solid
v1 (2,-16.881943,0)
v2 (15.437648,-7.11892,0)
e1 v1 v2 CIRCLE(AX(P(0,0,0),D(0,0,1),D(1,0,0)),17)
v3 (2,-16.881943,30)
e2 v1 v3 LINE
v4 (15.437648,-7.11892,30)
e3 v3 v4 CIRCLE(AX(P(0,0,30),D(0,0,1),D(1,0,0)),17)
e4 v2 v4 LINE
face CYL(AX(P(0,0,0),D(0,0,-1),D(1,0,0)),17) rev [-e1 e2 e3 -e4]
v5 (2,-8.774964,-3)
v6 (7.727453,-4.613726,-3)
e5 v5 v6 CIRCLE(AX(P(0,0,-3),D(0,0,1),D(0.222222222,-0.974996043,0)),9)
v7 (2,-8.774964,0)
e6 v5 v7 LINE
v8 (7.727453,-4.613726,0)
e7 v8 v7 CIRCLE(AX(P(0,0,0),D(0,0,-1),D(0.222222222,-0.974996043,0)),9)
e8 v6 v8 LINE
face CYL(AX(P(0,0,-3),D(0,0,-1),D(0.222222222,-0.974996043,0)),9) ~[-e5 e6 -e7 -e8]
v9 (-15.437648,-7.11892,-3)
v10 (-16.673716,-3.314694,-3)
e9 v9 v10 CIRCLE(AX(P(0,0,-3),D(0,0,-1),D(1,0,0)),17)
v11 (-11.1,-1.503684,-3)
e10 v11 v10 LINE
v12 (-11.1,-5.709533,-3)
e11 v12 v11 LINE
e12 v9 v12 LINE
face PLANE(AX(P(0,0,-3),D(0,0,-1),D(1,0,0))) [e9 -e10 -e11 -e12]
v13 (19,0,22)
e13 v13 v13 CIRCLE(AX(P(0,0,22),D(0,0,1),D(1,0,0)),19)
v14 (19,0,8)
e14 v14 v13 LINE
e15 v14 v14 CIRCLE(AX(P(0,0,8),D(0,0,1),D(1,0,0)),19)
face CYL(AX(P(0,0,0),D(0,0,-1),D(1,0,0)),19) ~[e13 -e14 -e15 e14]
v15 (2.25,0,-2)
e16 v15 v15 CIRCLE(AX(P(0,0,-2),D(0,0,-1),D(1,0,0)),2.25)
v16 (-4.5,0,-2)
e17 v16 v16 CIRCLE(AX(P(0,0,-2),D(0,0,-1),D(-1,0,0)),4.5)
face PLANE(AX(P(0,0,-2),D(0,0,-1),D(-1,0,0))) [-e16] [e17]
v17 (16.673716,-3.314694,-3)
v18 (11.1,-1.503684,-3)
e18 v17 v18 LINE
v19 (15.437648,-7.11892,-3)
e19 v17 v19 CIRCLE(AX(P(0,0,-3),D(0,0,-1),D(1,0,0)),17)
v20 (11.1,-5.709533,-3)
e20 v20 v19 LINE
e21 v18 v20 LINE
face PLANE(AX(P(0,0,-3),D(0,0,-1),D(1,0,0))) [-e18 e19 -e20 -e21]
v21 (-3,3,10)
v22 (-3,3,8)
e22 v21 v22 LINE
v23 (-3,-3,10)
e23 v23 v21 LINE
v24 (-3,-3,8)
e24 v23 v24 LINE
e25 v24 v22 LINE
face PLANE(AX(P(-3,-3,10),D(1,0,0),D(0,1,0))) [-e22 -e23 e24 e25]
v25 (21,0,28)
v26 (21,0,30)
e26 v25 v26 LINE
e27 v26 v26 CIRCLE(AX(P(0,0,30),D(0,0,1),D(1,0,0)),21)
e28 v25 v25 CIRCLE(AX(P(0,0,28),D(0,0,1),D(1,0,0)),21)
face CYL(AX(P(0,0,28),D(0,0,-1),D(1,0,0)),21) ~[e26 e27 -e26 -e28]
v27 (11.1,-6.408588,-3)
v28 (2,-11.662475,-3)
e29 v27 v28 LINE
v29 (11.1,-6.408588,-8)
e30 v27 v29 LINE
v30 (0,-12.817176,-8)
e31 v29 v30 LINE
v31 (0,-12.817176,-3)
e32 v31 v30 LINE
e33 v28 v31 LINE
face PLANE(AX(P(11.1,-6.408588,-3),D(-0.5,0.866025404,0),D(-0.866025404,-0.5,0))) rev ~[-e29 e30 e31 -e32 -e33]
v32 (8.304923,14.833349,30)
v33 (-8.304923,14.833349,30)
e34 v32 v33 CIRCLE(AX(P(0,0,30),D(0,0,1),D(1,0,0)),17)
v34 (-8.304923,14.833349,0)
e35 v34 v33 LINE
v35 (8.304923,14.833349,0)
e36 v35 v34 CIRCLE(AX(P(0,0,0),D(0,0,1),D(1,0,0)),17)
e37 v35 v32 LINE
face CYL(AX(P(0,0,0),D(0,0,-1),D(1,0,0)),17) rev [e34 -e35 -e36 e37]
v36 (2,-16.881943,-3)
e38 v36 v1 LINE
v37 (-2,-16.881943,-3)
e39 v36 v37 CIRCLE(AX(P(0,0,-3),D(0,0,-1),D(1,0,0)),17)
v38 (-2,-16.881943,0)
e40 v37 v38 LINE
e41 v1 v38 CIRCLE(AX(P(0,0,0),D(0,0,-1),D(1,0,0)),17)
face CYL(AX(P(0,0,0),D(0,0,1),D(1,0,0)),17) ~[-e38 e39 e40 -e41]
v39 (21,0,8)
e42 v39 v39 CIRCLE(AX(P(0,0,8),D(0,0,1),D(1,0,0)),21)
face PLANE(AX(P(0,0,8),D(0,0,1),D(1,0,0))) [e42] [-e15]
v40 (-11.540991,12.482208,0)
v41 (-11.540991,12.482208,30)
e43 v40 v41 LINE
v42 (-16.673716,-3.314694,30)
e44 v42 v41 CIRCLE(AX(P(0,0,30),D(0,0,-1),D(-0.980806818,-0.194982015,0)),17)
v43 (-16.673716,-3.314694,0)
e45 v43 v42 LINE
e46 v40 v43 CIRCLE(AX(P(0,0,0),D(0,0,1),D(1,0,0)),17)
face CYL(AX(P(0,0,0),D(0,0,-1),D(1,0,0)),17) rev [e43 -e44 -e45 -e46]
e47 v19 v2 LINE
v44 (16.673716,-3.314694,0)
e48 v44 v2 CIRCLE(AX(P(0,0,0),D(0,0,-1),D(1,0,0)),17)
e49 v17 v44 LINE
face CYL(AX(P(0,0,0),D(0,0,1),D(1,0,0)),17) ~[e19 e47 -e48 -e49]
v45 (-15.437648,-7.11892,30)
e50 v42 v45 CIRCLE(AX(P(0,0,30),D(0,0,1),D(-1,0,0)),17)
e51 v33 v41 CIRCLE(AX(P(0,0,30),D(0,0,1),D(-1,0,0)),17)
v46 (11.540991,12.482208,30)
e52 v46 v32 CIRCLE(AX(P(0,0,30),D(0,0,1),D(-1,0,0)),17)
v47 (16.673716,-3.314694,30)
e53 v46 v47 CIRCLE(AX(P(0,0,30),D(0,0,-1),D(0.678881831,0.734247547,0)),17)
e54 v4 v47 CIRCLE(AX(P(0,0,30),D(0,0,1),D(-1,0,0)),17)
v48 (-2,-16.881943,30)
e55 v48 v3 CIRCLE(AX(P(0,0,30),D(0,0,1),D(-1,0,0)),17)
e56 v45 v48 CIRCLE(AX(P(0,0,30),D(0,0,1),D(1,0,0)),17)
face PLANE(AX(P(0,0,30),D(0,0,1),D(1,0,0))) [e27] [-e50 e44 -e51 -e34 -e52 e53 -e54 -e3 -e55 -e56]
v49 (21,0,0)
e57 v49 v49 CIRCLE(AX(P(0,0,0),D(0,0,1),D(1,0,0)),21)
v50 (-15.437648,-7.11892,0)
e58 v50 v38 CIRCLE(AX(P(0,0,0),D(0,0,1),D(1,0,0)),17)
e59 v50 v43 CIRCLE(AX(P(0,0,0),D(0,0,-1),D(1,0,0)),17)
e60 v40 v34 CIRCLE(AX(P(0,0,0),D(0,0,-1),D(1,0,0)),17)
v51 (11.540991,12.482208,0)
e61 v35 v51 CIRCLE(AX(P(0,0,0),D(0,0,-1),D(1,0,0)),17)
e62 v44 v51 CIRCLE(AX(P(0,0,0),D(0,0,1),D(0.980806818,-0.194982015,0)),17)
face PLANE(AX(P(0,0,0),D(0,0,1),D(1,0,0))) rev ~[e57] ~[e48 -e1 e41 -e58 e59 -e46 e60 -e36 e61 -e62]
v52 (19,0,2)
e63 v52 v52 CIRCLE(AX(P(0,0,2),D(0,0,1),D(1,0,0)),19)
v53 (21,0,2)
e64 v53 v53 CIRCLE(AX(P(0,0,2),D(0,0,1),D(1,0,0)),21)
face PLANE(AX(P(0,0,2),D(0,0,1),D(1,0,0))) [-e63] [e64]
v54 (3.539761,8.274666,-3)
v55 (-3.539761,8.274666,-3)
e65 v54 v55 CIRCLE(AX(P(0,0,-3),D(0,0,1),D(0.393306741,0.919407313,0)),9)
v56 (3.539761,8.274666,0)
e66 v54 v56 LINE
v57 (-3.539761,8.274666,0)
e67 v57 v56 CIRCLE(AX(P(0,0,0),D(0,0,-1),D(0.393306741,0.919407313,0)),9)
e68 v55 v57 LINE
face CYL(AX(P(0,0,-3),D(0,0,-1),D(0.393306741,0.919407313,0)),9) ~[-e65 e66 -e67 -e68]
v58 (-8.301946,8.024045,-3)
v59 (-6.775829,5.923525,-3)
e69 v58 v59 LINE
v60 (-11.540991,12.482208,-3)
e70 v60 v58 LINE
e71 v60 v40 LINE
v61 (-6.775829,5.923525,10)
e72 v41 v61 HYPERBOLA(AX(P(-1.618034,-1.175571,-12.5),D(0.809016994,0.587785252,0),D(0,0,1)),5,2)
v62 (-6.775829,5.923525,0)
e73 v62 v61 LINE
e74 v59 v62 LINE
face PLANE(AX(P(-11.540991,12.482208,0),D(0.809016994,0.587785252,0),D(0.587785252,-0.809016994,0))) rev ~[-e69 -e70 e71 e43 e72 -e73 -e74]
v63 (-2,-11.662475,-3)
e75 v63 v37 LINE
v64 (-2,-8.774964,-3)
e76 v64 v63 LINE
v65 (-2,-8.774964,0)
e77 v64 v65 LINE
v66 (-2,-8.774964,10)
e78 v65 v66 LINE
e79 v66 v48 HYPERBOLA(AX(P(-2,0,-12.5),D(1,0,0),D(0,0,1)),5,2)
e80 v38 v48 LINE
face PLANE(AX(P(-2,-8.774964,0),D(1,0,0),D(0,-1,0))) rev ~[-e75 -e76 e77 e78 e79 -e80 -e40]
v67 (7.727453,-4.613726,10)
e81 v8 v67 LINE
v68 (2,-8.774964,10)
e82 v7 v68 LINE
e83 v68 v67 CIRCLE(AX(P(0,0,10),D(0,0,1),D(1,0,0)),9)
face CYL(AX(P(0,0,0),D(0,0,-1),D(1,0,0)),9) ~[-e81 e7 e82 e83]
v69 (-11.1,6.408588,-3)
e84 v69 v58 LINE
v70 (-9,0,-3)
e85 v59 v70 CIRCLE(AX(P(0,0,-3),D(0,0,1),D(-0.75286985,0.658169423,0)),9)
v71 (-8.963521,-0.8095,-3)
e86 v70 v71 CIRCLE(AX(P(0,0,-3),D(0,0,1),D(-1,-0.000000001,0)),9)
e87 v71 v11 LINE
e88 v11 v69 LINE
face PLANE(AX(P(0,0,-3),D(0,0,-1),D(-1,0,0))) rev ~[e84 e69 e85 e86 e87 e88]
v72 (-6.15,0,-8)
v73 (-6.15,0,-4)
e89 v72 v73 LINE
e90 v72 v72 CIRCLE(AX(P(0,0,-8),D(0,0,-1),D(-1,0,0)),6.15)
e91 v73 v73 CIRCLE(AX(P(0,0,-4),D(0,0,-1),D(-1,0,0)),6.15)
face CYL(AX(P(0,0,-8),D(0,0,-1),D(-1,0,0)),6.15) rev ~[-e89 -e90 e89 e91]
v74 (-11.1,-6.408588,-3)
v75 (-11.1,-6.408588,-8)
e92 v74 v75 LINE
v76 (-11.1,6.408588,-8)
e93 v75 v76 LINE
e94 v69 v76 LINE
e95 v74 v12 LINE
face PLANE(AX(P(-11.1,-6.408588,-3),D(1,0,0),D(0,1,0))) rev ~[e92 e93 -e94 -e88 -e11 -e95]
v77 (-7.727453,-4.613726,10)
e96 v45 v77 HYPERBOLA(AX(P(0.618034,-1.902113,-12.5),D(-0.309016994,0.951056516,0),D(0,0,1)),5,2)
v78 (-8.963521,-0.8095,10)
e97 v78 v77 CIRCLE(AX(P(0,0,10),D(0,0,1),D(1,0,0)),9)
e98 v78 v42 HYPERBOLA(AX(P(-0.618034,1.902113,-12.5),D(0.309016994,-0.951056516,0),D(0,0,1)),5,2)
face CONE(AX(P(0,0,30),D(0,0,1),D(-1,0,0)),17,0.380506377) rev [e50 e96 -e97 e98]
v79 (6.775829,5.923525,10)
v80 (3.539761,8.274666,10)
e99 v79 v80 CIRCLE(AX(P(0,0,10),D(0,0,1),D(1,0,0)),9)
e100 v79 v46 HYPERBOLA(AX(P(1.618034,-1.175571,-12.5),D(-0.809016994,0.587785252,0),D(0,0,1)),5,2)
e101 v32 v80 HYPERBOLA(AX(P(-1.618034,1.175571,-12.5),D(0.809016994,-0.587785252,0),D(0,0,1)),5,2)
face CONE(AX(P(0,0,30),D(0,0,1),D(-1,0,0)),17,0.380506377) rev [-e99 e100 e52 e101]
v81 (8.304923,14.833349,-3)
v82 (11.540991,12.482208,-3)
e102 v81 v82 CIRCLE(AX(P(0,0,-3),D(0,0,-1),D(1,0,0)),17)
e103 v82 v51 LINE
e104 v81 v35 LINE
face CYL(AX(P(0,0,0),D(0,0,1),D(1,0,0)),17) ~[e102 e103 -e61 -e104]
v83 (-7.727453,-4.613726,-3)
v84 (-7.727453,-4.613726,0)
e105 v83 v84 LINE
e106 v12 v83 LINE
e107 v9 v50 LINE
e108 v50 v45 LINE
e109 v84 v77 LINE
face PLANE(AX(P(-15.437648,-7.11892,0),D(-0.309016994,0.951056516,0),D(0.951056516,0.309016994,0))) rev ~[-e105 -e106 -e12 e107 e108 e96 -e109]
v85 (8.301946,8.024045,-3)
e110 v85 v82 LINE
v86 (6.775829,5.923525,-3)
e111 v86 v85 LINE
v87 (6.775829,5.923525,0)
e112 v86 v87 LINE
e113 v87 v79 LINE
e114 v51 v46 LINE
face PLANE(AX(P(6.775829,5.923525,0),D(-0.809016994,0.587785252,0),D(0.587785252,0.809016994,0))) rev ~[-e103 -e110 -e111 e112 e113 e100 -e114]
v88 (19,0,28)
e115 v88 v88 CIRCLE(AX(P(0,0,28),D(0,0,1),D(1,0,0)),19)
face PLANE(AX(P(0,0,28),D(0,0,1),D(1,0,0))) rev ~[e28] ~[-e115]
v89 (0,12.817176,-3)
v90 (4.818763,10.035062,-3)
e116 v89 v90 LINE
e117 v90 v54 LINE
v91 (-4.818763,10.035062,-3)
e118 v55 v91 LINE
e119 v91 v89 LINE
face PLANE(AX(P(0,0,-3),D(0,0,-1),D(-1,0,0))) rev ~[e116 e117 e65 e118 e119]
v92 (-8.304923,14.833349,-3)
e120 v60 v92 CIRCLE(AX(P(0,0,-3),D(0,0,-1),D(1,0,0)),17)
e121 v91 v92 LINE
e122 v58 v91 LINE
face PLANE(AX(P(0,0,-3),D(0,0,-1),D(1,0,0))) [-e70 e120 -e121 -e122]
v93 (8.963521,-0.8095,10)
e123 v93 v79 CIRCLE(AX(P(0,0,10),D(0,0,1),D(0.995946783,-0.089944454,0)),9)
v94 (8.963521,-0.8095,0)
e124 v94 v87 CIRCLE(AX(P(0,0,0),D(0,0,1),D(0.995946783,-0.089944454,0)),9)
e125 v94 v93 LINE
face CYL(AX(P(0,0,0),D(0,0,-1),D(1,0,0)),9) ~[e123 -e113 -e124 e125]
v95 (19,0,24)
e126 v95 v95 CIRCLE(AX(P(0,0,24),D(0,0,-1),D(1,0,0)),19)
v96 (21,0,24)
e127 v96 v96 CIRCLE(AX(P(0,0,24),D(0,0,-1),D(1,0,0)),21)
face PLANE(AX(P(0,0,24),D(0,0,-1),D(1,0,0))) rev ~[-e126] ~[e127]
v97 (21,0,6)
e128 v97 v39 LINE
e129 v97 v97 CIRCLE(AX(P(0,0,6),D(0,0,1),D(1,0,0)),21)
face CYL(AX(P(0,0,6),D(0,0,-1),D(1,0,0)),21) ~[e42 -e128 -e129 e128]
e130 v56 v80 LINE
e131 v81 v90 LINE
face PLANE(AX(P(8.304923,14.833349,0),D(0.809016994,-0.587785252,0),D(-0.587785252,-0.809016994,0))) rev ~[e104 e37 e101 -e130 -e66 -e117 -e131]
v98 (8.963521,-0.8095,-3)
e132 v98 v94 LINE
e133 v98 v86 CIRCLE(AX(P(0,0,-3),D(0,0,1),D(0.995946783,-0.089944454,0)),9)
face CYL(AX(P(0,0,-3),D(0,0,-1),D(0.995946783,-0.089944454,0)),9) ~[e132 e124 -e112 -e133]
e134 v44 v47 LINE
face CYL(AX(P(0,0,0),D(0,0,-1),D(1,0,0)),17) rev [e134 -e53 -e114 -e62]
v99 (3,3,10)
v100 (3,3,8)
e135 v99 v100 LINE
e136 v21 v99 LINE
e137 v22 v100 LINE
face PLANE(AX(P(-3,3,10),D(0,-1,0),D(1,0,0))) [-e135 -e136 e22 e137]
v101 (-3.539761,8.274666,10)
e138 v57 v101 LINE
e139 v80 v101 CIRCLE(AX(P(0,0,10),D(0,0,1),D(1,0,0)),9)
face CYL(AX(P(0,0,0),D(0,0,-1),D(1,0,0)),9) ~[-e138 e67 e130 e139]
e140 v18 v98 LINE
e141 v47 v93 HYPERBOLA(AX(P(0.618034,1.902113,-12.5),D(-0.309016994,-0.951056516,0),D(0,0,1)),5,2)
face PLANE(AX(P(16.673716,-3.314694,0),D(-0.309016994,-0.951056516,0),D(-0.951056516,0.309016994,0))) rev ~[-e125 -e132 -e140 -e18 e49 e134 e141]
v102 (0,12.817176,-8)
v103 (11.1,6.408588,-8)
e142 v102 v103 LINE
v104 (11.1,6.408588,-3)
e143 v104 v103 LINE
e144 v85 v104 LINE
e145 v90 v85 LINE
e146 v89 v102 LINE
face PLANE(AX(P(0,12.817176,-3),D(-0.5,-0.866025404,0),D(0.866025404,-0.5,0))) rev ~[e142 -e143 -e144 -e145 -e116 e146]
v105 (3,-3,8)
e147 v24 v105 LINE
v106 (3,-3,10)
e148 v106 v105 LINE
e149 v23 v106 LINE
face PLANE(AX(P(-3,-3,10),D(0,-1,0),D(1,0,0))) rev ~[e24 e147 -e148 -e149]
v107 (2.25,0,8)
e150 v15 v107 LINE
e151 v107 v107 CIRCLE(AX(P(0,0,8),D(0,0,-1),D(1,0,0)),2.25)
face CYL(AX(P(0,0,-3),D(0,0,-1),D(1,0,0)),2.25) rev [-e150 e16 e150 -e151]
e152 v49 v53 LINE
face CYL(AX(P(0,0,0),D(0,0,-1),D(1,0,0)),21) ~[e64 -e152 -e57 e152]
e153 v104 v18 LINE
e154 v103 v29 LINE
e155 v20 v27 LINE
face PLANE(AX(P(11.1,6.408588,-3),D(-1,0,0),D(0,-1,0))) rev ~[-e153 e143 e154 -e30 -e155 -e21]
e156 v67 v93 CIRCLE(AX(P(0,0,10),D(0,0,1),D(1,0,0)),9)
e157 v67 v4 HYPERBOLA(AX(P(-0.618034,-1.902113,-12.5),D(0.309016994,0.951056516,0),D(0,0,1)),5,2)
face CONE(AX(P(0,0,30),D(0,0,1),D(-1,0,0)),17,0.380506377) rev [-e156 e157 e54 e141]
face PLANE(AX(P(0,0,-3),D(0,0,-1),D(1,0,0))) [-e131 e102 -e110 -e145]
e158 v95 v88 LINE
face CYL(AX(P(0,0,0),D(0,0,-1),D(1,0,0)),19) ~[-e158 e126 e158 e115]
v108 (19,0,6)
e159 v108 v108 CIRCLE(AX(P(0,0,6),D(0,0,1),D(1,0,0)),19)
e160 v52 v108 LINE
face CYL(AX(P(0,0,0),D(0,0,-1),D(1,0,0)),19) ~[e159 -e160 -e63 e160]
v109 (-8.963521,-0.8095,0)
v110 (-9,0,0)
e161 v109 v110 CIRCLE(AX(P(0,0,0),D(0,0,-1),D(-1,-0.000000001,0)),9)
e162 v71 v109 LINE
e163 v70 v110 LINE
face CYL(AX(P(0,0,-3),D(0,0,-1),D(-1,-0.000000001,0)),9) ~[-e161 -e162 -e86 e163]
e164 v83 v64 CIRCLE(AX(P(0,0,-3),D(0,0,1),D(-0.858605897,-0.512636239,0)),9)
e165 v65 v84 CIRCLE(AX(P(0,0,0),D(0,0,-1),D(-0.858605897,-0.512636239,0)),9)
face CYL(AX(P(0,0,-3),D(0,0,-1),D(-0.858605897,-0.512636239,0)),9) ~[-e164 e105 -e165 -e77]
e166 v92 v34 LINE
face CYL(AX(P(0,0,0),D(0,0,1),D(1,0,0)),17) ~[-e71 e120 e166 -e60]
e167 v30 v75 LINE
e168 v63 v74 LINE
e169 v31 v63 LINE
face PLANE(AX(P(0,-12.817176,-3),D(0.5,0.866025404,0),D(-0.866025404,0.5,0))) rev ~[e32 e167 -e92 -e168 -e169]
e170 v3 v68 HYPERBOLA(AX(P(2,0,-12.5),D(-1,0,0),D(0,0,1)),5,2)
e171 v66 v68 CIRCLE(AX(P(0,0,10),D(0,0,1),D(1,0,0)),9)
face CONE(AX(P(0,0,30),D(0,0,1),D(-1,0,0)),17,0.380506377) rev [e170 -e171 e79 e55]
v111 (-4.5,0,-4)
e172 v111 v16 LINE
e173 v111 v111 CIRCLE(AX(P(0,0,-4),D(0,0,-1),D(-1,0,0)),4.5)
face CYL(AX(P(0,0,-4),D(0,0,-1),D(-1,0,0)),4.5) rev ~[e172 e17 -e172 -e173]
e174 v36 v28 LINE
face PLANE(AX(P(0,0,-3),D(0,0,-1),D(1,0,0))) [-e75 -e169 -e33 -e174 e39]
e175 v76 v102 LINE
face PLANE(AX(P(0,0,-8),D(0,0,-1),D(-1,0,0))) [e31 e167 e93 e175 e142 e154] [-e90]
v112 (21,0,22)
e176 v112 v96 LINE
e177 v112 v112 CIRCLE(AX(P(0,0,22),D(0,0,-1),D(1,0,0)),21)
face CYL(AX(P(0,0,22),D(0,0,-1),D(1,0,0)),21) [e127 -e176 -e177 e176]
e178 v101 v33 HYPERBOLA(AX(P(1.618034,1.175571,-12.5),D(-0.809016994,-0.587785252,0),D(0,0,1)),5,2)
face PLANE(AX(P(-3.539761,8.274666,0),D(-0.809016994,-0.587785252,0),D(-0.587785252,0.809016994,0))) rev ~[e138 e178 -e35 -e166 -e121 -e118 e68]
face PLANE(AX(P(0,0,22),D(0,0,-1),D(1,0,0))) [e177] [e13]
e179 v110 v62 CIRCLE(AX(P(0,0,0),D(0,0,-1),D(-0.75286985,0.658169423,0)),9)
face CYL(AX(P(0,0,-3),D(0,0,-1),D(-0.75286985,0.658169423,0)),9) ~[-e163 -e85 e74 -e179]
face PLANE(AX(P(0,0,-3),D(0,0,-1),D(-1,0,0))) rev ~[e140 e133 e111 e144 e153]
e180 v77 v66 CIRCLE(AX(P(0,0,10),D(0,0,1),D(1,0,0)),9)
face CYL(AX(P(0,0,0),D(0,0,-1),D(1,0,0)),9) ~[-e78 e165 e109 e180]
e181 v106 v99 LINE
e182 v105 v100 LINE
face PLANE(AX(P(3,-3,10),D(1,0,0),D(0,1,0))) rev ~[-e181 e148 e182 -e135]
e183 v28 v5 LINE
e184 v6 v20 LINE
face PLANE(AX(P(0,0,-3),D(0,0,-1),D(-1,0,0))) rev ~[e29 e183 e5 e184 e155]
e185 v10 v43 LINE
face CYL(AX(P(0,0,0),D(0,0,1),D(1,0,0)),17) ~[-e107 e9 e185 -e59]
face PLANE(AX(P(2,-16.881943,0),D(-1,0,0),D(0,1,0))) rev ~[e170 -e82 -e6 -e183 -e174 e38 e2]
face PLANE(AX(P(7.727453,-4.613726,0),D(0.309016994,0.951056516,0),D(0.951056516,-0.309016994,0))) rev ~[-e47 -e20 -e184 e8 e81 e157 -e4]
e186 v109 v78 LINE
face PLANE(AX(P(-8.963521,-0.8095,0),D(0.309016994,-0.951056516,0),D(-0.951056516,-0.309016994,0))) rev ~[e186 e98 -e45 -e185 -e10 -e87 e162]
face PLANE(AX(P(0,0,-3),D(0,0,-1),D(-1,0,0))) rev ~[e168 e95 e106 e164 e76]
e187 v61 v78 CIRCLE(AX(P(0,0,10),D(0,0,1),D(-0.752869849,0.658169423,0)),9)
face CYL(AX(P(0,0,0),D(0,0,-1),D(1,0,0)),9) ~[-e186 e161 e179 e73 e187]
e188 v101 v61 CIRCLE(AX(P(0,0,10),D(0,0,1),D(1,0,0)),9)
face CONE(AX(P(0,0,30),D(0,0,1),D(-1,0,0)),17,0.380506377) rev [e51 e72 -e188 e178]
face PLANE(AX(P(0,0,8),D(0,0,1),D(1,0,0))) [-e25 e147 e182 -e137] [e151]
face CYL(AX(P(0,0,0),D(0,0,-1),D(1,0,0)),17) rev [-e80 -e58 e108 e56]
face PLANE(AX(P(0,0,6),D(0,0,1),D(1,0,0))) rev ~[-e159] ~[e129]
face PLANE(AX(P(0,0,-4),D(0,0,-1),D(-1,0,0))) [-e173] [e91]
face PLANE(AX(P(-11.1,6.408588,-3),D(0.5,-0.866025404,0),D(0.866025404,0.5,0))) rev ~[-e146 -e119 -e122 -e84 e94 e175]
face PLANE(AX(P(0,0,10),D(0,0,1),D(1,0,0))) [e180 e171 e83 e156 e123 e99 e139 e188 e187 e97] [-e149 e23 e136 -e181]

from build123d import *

# Parameters (mm, degrees)
SKETCH_1_R           = 19
SKETCH_1_R_2         = 17
EXTRUDE_1_DEPTH      = 30
SKETCH_16_R          = 17
EXTRUDE_9_DEPTH      = 3
SKETCH_4_R           = 9
EXTRUDE_2_DEPTH      = 10
CUT_EXTRUDE_8_DEPTH  = 10
EXTRUDE_10_DEPTH     = 30
SKETCH_6_R           = 2.25
CUT_EXTRUDE_9_DEPTH  = 70
SKETCH_9_R           = 21
SKETCH_9_R_2         = 19
EXTRUDE_4_DEPTH      = 2
SKETCH_10_R          = 21
SKETCH_10_R_2        = 19
EXTRUDE_5_DEPTH      = 2
EXTRUDE_START        = -2
SKETCH_11_R          = 21
SKETCH_11_R_2        = 19
EXTRUDE_6_DEPTH      = 2
EXTRUDE_START_2      = 2
SKETCH_12_R          = 21
SKETCH_12_R_2        = 19
EXTRUDE_7_DEPTH      = 2
SKETCH_13_W          = 6
SKETCH_13_H          = 6
CUT_EXTRUDE_5_DEPTH  = 2
SKETCH_14_R          = 2.15
EXTRUDE_11_DEPTH     = 5
SKETCH_22_R          = 6.15
CUT_EXTRUDE_10_DEPTH = 4
SKETCH_25_R          = 4.5
CUT_EXTRUDE_11_DEPTH = 2


with BuildPart() as part:
    # 草图1 → 凸台-拉伸1 (new body)
    with BuildSketch(Plane.XY):
        Circle(SKETCH_1_R)
        Circle(SKETCH_1_R_2, mode=Mode.SUBTRACT)
    extrude(amount=EXTRUDE_1_DEPTH)



with BuildPart() as body_2:
    # 草图16 → 凸台-拉伸9 (new body)
    with BuildSketch(Plane(origin=(0, 0, 0), x_dir=(-1, 0, 0), z_dir=(0, 0, -1))):
        with Locations(Location((0, 0, 0), (0, 0, 180))):
            Circle(SKETCH_16_R)
    extrude(amount=EXTRUDE_9_DEPTH)

    # 草图7 → 切除-拉伸8 (cut)
    with BuildSketch(Plane(origin=(0, 0, -3), x_dir=(-1, 0, 0), z_dir=(0, 0, -1))):
        with BuildLine():
            Line((-8.304923146, 14.833349303), (-3.539760668, 8.274665819))
            ThreePointArc((-3.539760668, 8.274665819), (0, 9), (3.539760668, 8.274665819))
            Line((3.539760668, 8.274665819), (8.304923146, 14.833349303))
            ThreePointArc((8.304923146, 14.833349303), (0, 17), (-8.304923146, 14.833349303))
        make_face()
        with BuildLine():
            ThreePointArc((9, 0), (8.990875637, -0.405160803), (8.96352105, -0.809500088))
            Line((8.96352105, -0.809500088), (16.673715902, -3.314694257))
            ThreePointArc((16.673715902, -3.314694257), (16.91823233, -1.665357269), (17, 0))
            ThreePointArc((17, 0), (15.575571404, 6.811870187), (11.540991124, 12.482208294))
            Line((11.540991124, 12.482208294), (6.775828645, 5.92352481))
            ThreePointArc((6.775828645, 5.92352481), (8.425629288, 3.163664188), (9, 0))
        make_face()
        with BuildLine():
            ThreePointArc((7.727453072, -4.613726153), (5.290067271, -7.281152949), (2, -8.774964387))
            Line((2, -8.774964387), (2, -16.881943016))
            ThreePointArc((2, -16.881943016), (9.992349289, -13.753288904), (15.437647924, -7.118920323))
            Line((15.437647924, -7.118920323), (7.727453072, -4.613726153))
        make_face()
        with BuildLine():
            Line((-2, -16.881943016), (-2, -8.774964387))
            ThreePointArc((-2, -8.774964387), (-5.290067271, -7.281152949), (-7.727453072, -4.613726153))
            Line((-7.727453072, -4.613726153), (-15.437647924, -7.118920323))
            ThreePointArc((-15.437647924, -7.118920323), (-9.992349289, -13.753288904), (-2, -16.881943016))
        make_face()
        with BuildLine():
            Line((-16.673715902, -3.314694257), (-8.96352105, -0.809500088))
            ThreePointArc((-8.96352105, -0.809500088), (-8.559508647, 2.781152949), (-6.775828645, 5.92352481))
            Line((-6.775828645, 5.92352481), (-11.540991124, 12.482208294))
            ThreePointArc((-11.540991124, 12.482208294), (-16.167960777, 5.253288904), (-16.673715902, -3.314694257))
        make_face()
    extrude(amount=-CUT_EXTRUDE_8_DEPTH, mode=Mode.SUBTRACT)


with BuildPart() as body_3:
    # 草图4 → 凸台-拉伸2 (new body)
    with BuildSketch(Plane.XY):
        Circle(SKETCH_4_R)
    extrude(amount=EXTRUDE_2_DEPTH)


with BuildPart() as part_1:
    add(part.part)

    add(body_2.part)  # 凸台-拉伸10 merges body 2

    add(body_3.part)  # 凸台-拉伸10 merges body 3
    # 草图21 → 凸台-拉伸10 (add)
    with BuildSketch(Plane.XY):
        with BuildLine():
            ThreePointArc((-6.775828645, 5.92352481), (-5.290067271, 7.281152949), (-3.539760668, 8.274665819))
            Line((-3.539760668, 8.274665819), (-8.304923146, 14.833349303))
            ThreePointArc((-8.304923146, 14.833349303), (-9.992349289, 13.753288904), (-11.540991124, 12.482208294))
            Line((-11.540991124, 12.482208294), (-6.775828645, 5.92352481))
        make_face()
        with BuildLine():
            Line((8.304923146, 14.833349303), (3.539760668, 8.274665819))
            ThreePointArc((3.539760668, 8.274665819), (5.290067271, 7.281152949), (6.775828645, 5.92352481))
            Line((6.775828645, 5.92352481), (11.540991124, 12.482208294))
            ThreePointArc((11.540991124, 12.482208294), (9.992349289, 13.753288904), (8.304923146, 14.833349303))
        make_face()
        with BuildLine():
            Line((16.673715902, -3.314694257), (8.96352105, -0.809500088))
            ThreePointArc((8.96352105, -0.809500088), (8.559508647, -2.781152949), (7.727453072, -4.613726153))
            Line((7.727453072, -4.613726153), (15.437647924, -7.118920323))
            ThreePointArc((15.437647924, -7.118920323), (16.167960777, -5.253288904), (16.673715902, -3.314694257))
        make_face()
        with BuildLine():
            Line((2, -16.881943016), (2, -8.774964387))
            ThreePointArc((2, -8.774964387), (0, -9), (-2, -8.774964387))
            Line((-2, -8.774964387), (-2, -16.881943016))
            ThreePointArc((-2, -16.881943016), (0, -17), (2, -16.881943016))
        make_face()
        with BuildLine():
            ThreePointArc((-7.727453072, -4.613726153), (-8.559508647, -2.781152949), (-8.96352105, -0.809500088))
            Line((-8.96352105, -0.809500088), (-16.673715902, -3.314694257))
            ThreePointArc((-16.673715902, -3.314694257), (-16.167960777, -5.253288904), (-15.437647924, -7.118920323))
            Line((-15.437647924, -7.118920323), (-7.727453072, -4.613726153))
        make_face()
    extrude(amount=EXTRUDE_10_DEPTH)

    # 草图6 → 切除-拉伸9 (cut)
    with BuildSketch(Plane.XY.offset(-3)):
        Circle(SKETCH_6_R)
    extrude(amount=CUT_EXTRUDE_9_DEPTH, mode=Mode.SUBTRACT)

    # 草图9 → 凸台-拉伸4 (add)
    with BuildSketch(Plane.XY):
        Circle(SKETCH_9_R)
        Circle(SKETCH_9_R_2, mode=Mode.SUBTRACT)
    extrude(amount=EXTRUDE_4_DEPTH)

    # 草图10 → 凸台-拉伸5 (add)
    with BuildSketch(Plane.XY.offset(6)):
        Circle(SKETCH_10_R)
        Circle(SKETCH_10_R_2, mode=Mode.SUBTRACT)
    extrude(amount=EXTRUDE_5_DEPTH)

    # 草图11 → 凸台-拉伸6 (add)
    with BuildSketch(Plane.XY.offset(30).offset(EXTRUDE_START)):
        Circle(SKETCH_11_R)
        Circle(SKETCH_11_R_2, mode=Mode.SUBTRACT)
    extrude(amount=EXTRUDE_6_DEPTH)

    # 草图12 → 凸台-拉伸7 (add)
    with BuildSketch(Plane(origin=(0, 0, 24), x_dir=(-1, 0, 0), z_dir=(0, 0, -1)).offset(EXTRUDE_START_2)):
        with Locations(Location((0, 0, 0), (0, 0, 180))):
            Circle(SKETCH_12_R)
        Circle(SKETCH_12_R_2, mode=Mode.SUBTRACT)
    extrude(amount=-EXTRUDE_7_DEPTH)

    # 草图13 → 切除-拉伸5 (cut)
    with BuildSketch(Plane.XY.offset(10)):
        Rectangle(SKETCH_13_W, SKETCH_13_H)
    extrude(amount=-CUT_EXTRUDE_5_DEPTH, mode=Mode.SUBTRACT)

    # 草图14 → 凸台-拉伸11 (add)
    with BuildSketch(Plane(origin=(0, 0, -3), x_dir=(-1, 0, 0), z_dir=(0, 0, -1))):
        Polygon((-11.1, -6.408587988), (0, -12.817175976), (11.1, -6.408587988), (11.1, 6.408587988), (0, 12.817175976), (-11.1, 6.408587988), align=None)
        Circle(SKETCH_14_R, mode=Mode.SUBTRACT)
    extrude(amount=EXTRUDE_11_DEPTH)

    # 草图22 → 切除-拉伸10 (cut)
    with BuildSketch(Plane(origin=(0, 0, -8), x_dir=(-1, 0, 0), z_dir=(0, 0, -1))):
        Circle(SKETCH_22_R)
    extrude(amount=-CUT_EXTRUDE_10_DEPTH, mode=Mode.SUBTRACT)

    # 草图25 → 切除-拉伸11 (cut)
    with BuildSketch(Plane(origin=(0, 0, -4), x_dir=(-1, 0, 0), z_dir=(0, 0, -1))):
        Circle(SKETCH_25_R)
    extrude(amount=-CUT_EXTRUDE_11_DEPTH, mode=Mode.SUBTRACT)

    # 草图28 → 切除-旋转1 (revolve, cut)
    with BuildSketch(Plane(origin=(0, 0, 0), x_dir=(0.9510565162951539, -0.3090169943749465, 0), z_dir=(-0.3090169943749465, -0.9510565162951539, 0)), mode=Mode.PRIVATE) as cut_revolve_1_sk:
        Polygon((17, 30), (9, 10), (9, 30), align=None)
    revolve(cut_revolve_1_sk.sketch.rotate(Axis((0, 0, 0), (0, 0, 1)), 198), axis=Axis((0, 0, 0), (0, 0, 1)), mode=Mode.SUBTRACT)


solid = part_1.part
